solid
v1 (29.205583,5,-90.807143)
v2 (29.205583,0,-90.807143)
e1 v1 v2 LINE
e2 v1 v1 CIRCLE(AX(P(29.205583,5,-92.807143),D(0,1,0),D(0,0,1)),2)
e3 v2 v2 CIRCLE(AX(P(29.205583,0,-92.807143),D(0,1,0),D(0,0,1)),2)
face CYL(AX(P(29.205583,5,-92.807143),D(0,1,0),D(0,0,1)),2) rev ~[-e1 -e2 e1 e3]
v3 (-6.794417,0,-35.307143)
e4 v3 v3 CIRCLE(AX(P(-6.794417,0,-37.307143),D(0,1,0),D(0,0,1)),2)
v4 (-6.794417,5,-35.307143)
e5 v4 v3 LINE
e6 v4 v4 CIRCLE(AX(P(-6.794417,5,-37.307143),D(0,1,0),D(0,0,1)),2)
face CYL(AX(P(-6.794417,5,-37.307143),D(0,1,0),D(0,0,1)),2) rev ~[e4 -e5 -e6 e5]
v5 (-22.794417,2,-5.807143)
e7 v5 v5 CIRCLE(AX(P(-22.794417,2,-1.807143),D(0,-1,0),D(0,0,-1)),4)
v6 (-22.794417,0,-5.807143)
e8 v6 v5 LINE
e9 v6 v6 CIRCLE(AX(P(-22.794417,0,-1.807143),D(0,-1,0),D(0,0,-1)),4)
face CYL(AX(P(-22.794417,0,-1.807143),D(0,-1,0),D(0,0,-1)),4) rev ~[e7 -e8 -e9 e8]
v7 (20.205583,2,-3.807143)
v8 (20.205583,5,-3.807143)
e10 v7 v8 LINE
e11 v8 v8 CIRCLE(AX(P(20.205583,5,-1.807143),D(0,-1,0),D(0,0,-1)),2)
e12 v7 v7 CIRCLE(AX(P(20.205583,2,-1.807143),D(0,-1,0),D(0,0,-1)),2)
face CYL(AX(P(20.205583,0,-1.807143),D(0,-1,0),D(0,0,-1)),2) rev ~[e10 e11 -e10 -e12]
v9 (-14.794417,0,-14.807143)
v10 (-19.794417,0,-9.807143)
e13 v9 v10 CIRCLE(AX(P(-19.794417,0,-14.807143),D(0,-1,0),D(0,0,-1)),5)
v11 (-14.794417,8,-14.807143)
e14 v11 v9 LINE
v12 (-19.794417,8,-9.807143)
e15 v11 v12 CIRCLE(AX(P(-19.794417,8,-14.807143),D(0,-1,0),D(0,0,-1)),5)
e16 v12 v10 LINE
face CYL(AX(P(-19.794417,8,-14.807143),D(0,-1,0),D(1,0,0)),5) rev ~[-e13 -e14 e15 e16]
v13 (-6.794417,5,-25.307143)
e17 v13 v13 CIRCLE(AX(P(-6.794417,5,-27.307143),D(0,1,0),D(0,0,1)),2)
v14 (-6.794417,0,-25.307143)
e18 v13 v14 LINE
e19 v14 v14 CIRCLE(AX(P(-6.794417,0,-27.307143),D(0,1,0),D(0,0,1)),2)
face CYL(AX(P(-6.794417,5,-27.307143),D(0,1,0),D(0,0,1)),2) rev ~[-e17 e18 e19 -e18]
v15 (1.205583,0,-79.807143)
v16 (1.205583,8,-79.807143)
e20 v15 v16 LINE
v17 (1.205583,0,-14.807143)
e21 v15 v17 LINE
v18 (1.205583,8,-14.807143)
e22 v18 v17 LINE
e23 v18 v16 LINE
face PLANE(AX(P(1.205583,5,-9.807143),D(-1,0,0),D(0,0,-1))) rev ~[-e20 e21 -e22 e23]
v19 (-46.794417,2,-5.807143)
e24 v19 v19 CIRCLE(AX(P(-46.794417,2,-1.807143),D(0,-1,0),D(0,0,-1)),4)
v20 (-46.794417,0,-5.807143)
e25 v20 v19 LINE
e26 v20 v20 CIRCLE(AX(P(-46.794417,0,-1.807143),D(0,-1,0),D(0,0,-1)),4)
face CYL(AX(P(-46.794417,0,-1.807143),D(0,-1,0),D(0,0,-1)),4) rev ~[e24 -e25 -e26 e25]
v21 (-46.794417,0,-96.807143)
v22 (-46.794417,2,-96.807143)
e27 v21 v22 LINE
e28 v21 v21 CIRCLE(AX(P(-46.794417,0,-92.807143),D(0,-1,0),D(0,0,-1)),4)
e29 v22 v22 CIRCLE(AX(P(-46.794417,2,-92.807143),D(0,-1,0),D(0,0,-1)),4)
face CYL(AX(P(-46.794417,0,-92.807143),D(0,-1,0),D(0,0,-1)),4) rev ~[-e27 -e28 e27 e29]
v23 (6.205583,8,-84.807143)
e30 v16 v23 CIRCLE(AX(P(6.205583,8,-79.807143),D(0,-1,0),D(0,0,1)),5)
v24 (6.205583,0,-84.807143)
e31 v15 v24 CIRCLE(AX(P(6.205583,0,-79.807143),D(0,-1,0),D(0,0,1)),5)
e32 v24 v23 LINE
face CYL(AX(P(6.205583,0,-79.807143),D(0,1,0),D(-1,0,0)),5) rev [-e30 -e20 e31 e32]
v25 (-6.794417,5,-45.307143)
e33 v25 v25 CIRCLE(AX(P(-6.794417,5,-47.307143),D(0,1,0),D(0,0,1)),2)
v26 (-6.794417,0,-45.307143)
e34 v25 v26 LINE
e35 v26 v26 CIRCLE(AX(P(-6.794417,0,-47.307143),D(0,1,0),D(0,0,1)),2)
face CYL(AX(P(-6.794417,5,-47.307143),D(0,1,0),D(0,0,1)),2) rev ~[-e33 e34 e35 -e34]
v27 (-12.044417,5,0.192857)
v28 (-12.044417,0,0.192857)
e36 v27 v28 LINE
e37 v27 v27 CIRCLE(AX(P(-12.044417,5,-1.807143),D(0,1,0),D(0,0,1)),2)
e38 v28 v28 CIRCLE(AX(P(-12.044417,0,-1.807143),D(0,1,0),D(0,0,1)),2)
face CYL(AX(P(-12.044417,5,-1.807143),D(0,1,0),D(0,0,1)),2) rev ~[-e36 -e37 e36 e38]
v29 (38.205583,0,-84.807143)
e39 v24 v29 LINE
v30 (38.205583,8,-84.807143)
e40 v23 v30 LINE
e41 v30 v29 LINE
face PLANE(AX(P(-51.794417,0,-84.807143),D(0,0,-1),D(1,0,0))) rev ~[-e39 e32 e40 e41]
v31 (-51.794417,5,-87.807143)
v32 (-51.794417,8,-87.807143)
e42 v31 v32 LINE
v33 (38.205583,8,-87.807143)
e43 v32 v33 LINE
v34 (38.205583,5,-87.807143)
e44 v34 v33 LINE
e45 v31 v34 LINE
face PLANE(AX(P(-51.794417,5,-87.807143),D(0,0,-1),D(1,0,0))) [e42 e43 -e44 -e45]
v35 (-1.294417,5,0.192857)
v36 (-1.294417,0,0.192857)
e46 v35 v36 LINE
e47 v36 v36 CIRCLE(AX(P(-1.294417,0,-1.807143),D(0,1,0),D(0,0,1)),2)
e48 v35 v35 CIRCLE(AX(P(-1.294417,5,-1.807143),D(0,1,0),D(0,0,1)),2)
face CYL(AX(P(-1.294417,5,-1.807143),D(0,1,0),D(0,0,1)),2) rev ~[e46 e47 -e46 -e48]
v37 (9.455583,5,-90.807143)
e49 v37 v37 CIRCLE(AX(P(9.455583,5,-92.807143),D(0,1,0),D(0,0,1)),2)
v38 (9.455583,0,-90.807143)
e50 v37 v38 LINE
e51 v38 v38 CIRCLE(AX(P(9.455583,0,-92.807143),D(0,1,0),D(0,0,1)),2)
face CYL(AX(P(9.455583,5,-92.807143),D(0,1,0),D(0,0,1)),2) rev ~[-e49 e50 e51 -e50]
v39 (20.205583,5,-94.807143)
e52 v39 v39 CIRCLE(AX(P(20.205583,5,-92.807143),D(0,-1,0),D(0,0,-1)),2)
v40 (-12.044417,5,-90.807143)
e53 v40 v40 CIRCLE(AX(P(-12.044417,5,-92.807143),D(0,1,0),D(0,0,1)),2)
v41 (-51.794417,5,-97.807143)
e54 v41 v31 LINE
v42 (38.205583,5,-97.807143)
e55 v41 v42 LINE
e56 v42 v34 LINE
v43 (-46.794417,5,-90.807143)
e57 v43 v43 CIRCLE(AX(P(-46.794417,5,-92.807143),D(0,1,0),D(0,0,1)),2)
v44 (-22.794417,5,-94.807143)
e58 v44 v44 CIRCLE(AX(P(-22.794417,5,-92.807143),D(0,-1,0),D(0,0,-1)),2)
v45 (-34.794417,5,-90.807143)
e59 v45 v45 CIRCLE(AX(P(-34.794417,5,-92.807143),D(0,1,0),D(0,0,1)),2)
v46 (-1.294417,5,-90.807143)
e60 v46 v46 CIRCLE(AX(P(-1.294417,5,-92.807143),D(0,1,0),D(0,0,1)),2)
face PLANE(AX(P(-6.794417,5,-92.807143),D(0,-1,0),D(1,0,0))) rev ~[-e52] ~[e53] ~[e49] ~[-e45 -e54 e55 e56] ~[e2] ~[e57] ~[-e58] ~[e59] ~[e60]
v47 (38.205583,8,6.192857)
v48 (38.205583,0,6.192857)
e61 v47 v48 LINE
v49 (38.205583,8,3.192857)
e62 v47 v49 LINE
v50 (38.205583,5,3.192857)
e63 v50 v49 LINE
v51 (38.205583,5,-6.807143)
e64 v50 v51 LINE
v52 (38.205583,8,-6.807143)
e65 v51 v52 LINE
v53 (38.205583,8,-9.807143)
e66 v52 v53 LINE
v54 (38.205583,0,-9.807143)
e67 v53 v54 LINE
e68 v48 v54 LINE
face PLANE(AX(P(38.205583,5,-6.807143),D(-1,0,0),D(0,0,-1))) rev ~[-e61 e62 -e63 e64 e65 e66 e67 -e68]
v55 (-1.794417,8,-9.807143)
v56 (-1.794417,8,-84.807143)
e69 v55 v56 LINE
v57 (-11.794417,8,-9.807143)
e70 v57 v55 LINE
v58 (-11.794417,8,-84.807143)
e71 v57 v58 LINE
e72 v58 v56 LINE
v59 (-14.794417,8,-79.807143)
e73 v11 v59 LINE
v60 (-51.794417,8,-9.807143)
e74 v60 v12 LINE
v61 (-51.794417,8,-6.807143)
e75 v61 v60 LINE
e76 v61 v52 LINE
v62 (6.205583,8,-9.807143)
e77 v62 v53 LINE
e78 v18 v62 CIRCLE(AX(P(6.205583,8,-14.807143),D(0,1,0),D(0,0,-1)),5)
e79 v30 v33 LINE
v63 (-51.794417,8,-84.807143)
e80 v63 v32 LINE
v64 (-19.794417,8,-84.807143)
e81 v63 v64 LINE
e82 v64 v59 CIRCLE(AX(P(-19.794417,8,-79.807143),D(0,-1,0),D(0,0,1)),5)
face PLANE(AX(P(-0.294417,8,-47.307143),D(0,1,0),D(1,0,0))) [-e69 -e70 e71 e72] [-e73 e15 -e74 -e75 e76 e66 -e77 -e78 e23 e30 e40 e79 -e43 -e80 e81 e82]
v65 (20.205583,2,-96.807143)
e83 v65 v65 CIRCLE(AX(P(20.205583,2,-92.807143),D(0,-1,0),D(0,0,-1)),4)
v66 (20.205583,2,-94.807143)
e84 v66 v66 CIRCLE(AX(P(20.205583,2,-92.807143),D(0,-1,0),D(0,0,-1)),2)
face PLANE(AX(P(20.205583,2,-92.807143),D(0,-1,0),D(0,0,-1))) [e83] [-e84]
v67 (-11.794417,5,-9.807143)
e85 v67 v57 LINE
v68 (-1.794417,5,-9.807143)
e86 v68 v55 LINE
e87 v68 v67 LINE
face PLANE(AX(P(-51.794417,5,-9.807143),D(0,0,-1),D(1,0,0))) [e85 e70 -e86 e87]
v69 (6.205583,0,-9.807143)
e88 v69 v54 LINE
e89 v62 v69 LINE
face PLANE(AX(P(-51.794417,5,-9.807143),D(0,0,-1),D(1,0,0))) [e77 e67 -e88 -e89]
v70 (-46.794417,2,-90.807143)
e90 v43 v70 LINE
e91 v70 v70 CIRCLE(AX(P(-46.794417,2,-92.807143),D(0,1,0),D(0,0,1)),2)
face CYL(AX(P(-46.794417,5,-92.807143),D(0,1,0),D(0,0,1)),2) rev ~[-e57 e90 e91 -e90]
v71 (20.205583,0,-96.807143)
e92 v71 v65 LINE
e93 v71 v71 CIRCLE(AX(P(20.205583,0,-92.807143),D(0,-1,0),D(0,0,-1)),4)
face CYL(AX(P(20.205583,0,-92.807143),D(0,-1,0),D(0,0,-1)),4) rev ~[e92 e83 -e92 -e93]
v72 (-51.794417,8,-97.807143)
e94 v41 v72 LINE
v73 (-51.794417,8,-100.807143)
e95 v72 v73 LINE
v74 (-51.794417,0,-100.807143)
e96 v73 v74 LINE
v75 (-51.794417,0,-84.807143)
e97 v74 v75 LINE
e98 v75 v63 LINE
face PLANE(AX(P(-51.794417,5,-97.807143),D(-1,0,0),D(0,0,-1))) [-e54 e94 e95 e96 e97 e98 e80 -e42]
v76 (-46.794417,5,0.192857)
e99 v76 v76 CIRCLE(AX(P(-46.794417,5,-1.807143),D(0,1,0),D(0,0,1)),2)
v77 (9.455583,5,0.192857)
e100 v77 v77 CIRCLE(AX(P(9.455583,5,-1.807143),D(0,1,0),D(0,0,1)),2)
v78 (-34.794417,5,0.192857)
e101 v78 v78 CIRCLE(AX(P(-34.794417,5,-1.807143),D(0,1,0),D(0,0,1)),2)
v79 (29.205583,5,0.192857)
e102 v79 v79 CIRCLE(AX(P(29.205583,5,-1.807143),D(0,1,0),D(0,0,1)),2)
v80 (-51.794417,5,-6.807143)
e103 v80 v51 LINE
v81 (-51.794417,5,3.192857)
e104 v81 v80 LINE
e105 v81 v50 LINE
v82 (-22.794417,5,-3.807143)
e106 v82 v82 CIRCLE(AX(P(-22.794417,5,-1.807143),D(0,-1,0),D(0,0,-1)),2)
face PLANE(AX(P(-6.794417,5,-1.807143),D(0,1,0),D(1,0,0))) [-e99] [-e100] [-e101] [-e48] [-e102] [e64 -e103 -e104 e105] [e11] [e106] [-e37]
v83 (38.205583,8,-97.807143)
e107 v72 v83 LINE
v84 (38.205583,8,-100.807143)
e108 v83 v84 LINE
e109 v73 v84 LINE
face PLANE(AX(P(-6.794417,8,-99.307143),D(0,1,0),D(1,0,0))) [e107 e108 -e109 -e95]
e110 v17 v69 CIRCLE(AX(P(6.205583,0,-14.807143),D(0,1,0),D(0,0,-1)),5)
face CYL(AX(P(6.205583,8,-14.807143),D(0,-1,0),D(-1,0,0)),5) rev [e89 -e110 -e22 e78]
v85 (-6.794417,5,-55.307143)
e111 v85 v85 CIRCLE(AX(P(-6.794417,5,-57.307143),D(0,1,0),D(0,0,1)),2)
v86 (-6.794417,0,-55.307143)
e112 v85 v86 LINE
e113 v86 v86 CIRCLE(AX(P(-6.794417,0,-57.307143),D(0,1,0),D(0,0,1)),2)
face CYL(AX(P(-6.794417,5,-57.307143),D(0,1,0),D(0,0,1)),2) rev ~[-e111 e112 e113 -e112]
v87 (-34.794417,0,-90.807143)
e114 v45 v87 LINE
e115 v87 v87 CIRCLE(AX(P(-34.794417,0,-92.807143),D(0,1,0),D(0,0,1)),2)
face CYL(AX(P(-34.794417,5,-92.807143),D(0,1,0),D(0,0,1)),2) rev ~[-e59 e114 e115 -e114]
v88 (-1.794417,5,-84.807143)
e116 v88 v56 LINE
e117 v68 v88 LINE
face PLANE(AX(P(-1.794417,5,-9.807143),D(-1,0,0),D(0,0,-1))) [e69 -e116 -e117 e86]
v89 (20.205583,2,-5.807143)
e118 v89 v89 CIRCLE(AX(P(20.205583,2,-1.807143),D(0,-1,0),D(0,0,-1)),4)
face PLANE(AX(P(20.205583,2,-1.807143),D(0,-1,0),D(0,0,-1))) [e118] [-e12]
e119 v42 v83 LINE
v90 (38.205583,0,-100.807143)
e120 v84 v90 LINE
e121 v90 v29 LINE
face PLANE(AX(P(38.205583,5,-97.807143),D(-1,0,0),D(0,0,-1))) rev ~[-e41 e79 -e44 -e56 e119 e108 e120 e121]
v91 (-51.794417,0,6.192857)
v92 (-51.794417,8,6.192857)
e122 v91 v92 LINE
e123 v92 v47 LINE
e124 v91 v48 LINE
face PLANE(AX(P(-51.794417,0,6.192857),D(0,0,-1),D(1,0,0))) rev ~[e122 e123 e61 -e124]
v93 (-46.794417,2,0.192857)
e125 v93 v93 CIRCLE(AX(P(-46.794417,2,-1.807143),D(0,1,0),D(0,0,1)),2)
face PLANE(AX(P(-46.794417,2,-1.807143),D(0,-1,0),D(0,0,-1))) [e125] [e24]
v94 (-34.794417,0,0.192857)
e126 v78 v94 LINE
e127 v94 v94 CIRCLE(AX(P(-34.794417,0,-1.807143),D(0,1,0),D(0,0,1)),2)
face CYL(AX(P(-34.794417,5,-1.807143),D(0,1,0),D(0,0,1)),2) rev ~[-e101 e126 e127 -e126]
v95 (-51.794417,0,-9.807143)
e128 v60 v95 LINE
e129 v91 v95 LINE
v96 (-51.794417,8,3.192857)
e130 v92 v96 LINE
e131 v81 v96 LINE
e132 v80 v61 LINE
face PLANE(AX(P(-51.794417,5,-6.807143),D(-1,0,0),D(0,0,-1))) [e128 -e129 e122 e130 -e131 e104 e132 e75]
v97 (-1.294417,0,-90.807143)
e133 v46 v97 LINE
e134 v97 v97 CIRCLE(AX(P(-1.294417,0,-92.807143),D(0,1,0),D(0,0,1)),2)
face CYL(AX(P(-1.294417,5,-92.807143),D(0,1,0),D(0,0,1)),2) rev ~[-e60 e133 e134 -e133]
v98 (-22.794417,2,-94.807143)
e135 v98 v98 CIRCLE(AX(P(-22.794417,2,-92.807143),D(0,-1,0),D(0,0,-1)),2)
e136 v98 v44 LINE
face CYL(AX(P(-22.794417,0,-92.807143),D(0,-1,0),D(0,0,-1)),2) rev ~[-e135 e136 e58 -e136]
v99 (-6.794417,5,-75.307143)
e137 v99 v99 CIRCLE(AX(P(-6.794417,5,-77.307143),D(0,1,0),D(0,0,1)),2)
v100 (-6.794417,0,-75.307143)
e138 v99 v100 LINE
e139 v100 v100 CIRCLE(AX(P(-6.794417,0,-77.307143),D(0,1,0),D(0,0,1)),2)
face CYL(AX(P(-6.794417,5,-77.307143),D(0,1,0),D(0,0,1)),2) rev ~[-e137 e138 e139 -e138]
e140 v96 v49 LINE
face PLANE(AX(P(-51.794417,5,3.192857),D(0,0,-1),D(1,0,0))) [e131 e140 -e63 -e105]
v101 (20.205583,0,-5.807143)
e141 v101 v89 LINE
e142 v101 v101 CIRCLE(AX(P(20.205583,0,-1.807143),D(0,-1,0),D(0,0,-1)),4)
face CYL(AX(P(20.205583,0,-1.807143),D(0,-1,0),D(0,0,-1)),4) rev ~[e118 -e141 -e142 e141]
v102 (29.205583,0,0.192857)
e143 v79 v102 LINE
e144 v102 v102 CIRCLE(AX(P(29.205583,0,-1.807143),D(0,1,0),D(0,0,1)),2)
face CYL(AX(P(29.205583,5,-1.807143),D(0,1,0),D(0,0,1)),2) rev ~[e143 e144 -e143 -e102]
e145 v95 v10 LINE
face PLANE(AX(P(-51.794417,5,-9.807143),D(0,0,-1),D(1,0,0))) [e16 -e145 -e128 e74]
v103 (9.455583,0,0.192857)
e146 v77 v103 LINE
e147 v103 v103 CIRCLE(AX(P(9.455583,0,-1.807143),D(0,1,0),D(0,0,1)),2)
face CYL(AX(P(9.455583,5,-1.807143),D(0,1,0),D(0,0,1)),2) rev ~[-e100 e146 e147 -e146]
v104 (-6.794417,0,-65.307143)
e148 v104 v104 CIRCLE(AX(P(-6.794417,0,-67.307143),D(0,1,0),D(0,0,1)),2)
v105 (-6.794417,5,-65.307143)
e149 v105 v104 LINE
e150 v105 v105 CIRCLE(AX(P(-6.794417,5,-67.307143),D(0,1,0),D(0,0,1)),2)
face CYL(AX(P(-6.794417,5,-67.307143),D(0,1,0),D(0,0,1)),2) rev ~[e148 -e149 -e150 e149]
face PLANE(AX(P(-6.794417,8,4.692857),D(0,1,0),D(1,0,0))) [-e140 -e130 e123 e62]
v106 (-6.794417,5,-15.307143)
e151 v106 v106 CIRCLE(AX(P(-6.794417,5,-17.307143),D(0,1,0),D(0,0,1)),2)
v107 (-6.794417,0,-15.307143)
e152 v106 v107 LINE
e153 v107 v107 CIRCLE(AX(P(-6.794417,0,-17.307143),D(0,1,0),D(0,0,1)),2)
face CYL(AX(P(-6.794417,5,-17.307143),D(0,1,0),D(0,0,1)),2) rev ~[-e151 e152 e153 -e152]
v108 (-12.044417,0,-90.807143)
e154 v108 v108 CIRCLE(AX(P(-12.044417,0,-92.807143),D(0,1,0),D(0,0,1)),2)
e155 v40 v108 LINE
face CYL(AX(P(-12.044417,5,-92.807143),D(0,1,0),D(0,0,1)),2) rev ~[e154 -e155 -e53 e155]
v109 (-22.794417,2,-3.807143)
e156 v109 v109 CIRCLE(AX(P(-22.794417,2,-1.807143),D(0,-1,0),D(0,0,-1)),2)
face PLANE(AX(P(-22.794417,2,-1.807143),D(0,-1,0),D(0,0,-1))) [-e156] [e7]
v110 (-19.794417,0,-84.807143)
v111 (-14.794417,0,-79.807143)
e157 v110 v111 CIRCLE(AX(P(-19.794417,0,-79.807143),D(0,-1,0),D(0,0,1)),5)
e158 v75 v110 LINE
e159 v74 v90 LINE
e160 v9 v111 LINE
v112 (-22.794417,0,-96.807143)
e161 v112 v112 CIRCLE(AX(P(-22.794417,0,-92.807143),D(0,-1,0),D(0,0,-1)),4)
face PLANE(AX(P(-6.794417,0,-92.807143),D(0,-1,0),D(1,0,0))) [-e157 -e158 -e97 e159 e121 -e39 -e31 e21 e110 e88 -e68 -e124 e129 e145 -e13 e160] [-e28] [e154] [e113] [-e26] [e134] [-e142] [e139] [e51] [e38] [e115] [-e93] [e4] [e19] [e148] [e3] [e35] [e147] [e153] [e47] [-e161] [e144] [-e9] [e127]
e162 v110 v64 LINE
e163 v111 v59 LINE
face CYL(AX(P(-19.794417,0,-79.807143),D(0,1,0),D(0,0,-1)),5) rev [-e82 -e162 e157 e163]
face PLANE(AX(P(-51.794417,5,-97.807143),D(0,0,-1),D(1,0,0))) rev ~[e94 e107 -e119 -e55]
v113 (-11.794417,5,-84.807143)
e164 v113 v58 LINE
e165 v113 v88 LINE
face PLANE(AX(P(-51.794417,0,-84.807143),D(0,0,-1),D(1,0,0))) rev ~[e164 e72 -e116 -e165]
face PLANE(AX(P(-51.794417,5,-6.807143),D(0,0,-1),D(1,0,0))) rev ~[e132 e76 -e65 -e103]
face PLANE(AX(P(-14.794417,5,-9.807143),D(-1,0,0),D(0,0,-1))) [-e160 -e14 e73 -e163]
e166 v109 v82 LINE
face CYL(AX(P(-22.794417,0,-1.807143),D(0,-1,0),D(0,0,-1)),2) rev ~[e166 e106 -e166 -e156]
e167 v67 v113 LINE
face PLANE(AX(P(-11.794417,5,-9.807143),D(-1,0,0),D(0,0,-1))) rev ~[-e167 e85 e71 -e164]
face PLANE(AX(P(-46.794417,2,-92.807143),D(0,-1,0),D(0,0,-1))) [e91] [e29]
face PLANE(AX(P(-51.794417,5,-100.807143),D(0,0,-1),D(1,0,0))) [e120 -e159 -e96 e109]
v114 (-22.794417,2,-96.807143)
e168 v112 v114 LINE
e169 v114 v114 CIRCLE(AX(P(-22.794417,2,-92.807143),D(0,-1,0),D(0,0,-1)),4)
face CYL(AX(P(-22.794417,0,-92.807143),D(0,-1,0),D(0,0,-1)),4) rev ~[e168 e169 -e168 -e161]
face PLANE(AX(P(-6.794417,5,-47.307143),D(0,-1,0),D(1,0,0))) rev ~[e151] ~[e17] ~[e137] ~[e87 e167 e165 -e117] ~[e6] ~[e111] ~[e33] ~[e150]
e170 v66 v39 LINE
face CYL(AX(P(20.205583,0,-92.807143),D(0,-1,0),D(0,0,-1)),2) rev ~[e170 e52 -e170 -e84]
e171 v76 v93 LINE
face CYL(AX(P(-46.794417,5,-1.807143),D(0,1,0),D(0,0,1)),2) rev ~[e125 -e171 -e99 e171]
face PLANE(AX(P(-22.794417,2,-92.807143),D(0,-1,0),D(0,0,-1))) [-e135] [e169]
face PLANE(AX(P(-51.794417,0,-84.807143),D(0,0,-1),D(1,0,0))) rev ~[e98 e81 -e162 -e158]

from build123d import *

# Parameters (mm, degrees)
SKETCH1_W           = 90
SKETCH1_H           = 16
BOSS_EXTRUDE1_DEPTH = 5
SKETCH2_W           = 90
SKETCH2_H           = 3
BOSS_EXTRUDE2_DEPTH = 3
SKETCH3_R           = 2
CUT_EXTRUDE2_DEPTH  = 5
SKETCH4_W           = 90
SKETCH4_H           = 16
SKETCH4_R           = 2
BOSS_EXTRUDE3_DEPTH = 5
SKETCH5_W           = 90
SKETCH5_H           = 3
BOSS_EXTRUDE4_DEPTH = 3
BOSS_EXTRUDE5_DEPTH = 5
SKETCH7_W           = 3
SKETCH7_H           = 75
BOSS_EXTRUDE6_DEPTH = 3
SKETCH8_R           = 2
CUT_EXTRUDE5_DEPTH  = 5
SKETCH9_R           = 2
CUT_EXTRUDE6_DEPTH  = 5
FILLET1_R           = 5
SKETCH10_R          = 4
CUT_EXTRUDE7_DEPTH  = 2
SKETCH11_R          = 4
CUT_EXTRUDE8_DEPTH  = 2


with BuildPart() as part:
    # Sketch1 → Boss-Extrude1 (new body)
    with BuildSketch(Plane(origin=(0, 0, 0), x_dir=(1, 0, 0), z_dir=(0, 1, 0))):
        with Locations((-6.794417438, 1.807142857)):
            Rectangle(SKETCH1_W, SKETCH1_H)
    extrude(amount=BOSS_EXTRUDE1_DEPTH)

    # Sketch2 → Boss-Extrude2 (add)
    with BuildSketch(Plane(origin=(0, 5, 0), x_dir=(1, 0, 0), z_dir=(0, 1, 0))):
        with Locations((-6.794417438, 8.307142857)):
            Rectangle(SKETCH2_W, SKETCH2_H)
        with Locations((-6.794417438, -4.692857143)):
            Rectangle(SKETCH2_W, SKETCH2_H)
    extrude(amount=BOSS_EXTRUDE2_DEPTH)

    # Sketch3 → Cut-Extrude2 (cut)
    with BuildSketch(Plane.XZ):
        with Locations(Location((20.205582562, -1.807142857, 0), (0, 0, 270))):
            Circle(SKETCH3_R)
        with Locations(Location((-22.794417438, -1.807142857, 0), (0, 0, 270))):
            Circle(SKETCH3_R)
    extrude(amount=-CUT_EXTRUDE2_DEPTH, mode=Mode.SUBTRACT)



with BuildPart() as body_2:
    # Sketch4 → Boss-Extrude3 (new body)
    with BuildSketch(Plane.XZ):
        with Locations((-6.794417438, -92.807142857)):
            Rectangle(SKETCH4_W, SKETCH4_H)
        with Locations(Location((20.205582562, -92.807142857, 0), (0, 0, 270))):
            Circle(SKETCH4_R, mode=Mode.SUBTRACT)
        with Locations(Location((-22.794417438, -92.807142857, 0), (0, 0, 270))):
            Circle(SKETCH4_R, mode=Mode.SUBTRACT)
    extrude(amount=-BOSS_EXTRUDE3_DEPTH)

    # Sketch5 → Boss-Extrude4 (add)
    with BuildSketch(Plane(origin=(0, 5, 0), x_dir=(1, 0, 0), z_dir=(0, 1, 0))):
        with Locations((-6.794417438, 99.307142857)):
            Rectangle(SKETCH5_W, SKETCH5_H)
        with Locations((-6.794417438, 86.307142857)):
            Rectangle(SKETCH5_W, SKETCH5_H)
    extrude(amount=BOSS_EXTRUDE4_DEPTH)


with BuildPart() as part_1:
    add(part.part)

    add(body_2.part)  # Boss-Extrude5 merges body 2
    # Sketch6 → Boss-Extrude5 (add)
    with BuildSketch(Plane.XZ):
        Polygon((-6.794417438, -84.807142857), (1.205582562, -84.807142857), (1.205582562, -9.807142857), (-14.794417438, -9.807142857), (-14.794417438, -84.807142857), align=None)
    extrude(amount=-BOSS_EXTRUDE5_DEPTH)

    # Sketch7 → Boss-Extrude6 (add)
    with BuildSketch(Plane(origin=(0, 5, 0), x_dir=(1, 0, 0), z_dir=(0, 1, 0))):
        with Locations((-0.294417438, 47.307142857)):
            Rectangle(SKETCH7_W, SKETCH7_H)
        with Locations((-13.294417438, 47.307142857)):
            Rectangle(SKETCH7_W, SKETCH7_H)
    extrude(amount=BOSS_EXTRUDE6_DEPTH)

    # Sketch8 → Cut-Extrude5 (cut)
    with BuildSketch(Plane(origin=(0, 5, 0), x_dir=(1, 0, 0), z_dir=(0, 1, 0))):
        with Locations(Location((-46.794417438, 92.807142857, 0), (0, 0, 270))):
            Circle(SKETCH8_R)
        with Locations(Location((-34.794417438, 92.807142857, 0), (0, 0, 270))):
            Circle(SKETCH8_R)
        with Locations(Location((29.205582562, 92.807142857, 0), (0, 0, 270))):
            Circle(SKETCH8_R)
        with Locations(Location((9.455582562, 92.807142857, 0), (0, 0, 270))):
            Circle(SKETCH8_R)
        with Locations(Location((-1.294417438, 92.807142857, 0), (0, 0, 270))):
            Circle(SKETCH8_R)
        with Locations(Location((-12.044417438, 92.807142857, 0), (0, 0, 270))):
            Circle(SKETCH8_R)
        with Locations(Location((-1.294417438, 1.807142857, 0), (0, 0, 270))):
            Circle(SKETCH8_R)
        with Locations(Location((-12.044417438, 1.807142857, 0), (0, 0, 270))):
            Circle(SKETCH8_R)
        with Locations(Location((9.455582562, 1.807142857, 0), (0, 0, 270))):
            Circle(SKETCH8_R)
        with Locations(Location((-34.794417438, 1.807142857, 0), (0, 0, 270))):
            Circle(SKETCH8_R)
        with Locations(Location((29.205582562, 1.807142857, 0), (0, 0, 270))):
            Circle(SKETCH8_R)
        with Locations(Location((-46.794417438, 1.807142857, 0), (0, 0, 270))):
            Circle(SKETCH8_R)
    extrude(amount=-CUT_EXTRUDE5_DEPTH, mode=Mode.SUBTRACT)

    # Sketch9 → Cut-Extrude6 (cut)
    with BuildSketch(Plane(origin=(0, 5, 0), x_dir=(1, 0, 0), z_dir=(0, 1, 0))):
        with Locations(Location((-6.794417438, 47.307142857, 0), (0, 0, 270))):
            Circle(SKETCH9_R)
        with Locations(Location((-6.794417438, 57.307142857, 0), (0, 0, 270))):
            Circle(SKETCH9_R)
        with Locations(Location((-6.794417438, 67.307142857, 0), (0, 0, 270))):
            Circle(SKETCH9_R)
        with Locations(Location((-6.794417438, 77.307142857, 0), (0, 0, 270))):
            Circle(SKETCH9_R)
        with Locations(Location((-6.794417438, 37.307142857, 0), (0, 0, 270))):
            Circle(SKETCH9_R)
        with Locations(Location((-6.794417438, 27.307142857, 0), (0, 0, 270))):
            Circle(SKETCH9_R)
        with Locations(Location((-6.794417438, 17.307142857, 0), (0, 0, 270))):
            Circle(SKETCH9_R)
    extrude(amount=-CUT_EXTRUDE6_DEPTH, mode=Mode.SUBTRACT)

    # Fillet1
    fillet1_edges = [part_1.edges().sort_by_distance(p)[0] for p in [
        (-14.794417438, 4, -84.807142857),
        (-14.794417438, 4, -9.807142857),
        (1.205582562, 4, -9.807142857),
        (1.205582562, 4, -84.807142857),
    ]]
    fillet(fillet1_edges, radius=FILLET1_R)

    # Sketch10 → Cut-Extrude7 (cut)
    with BuildSketch(Plane.XZ):
        with Locations(Location((20.205582562, -1.807142857, 0), (0, 0, 270))):
            Circle(SKETCH10_R)
        with Locations(Location((-22.794417438, -1.807142857, 0), (0, 0, 270))):
            Circle(SKETCH10_R)
        with Locations(Location((20.205582562, -92.807142857, 0), (0, 0, 270))):
            Circle(SKETCH10_R)
        with Locations(Location((-22.794417438, -92.807142857, 0), (0, 0, 270))):
            Circle(SKETCH10_R)
    extrude(amount=-CUT_EXTRUDE7_DEPTH, mode=Mode.SUBTRACT)

    # Sketch11 → Cut-Extrude8 (cut)
    with BuildSketch(Plane.XZ):
        with Locations(Location((-46.794417438, -1.807142857, 0), (0, 0, 270))):
            Circle(SKETCH11_R)
        with Locations(Location((-46.794417438, -92.807142857, 0), (0, 0, 270))):
            Circle(SKETCH11_R)
    extrude(amount=-CUT_EXTRUDE8_DEPTH, mode=Mode.SUBTRACT)


solid = part_1.part
